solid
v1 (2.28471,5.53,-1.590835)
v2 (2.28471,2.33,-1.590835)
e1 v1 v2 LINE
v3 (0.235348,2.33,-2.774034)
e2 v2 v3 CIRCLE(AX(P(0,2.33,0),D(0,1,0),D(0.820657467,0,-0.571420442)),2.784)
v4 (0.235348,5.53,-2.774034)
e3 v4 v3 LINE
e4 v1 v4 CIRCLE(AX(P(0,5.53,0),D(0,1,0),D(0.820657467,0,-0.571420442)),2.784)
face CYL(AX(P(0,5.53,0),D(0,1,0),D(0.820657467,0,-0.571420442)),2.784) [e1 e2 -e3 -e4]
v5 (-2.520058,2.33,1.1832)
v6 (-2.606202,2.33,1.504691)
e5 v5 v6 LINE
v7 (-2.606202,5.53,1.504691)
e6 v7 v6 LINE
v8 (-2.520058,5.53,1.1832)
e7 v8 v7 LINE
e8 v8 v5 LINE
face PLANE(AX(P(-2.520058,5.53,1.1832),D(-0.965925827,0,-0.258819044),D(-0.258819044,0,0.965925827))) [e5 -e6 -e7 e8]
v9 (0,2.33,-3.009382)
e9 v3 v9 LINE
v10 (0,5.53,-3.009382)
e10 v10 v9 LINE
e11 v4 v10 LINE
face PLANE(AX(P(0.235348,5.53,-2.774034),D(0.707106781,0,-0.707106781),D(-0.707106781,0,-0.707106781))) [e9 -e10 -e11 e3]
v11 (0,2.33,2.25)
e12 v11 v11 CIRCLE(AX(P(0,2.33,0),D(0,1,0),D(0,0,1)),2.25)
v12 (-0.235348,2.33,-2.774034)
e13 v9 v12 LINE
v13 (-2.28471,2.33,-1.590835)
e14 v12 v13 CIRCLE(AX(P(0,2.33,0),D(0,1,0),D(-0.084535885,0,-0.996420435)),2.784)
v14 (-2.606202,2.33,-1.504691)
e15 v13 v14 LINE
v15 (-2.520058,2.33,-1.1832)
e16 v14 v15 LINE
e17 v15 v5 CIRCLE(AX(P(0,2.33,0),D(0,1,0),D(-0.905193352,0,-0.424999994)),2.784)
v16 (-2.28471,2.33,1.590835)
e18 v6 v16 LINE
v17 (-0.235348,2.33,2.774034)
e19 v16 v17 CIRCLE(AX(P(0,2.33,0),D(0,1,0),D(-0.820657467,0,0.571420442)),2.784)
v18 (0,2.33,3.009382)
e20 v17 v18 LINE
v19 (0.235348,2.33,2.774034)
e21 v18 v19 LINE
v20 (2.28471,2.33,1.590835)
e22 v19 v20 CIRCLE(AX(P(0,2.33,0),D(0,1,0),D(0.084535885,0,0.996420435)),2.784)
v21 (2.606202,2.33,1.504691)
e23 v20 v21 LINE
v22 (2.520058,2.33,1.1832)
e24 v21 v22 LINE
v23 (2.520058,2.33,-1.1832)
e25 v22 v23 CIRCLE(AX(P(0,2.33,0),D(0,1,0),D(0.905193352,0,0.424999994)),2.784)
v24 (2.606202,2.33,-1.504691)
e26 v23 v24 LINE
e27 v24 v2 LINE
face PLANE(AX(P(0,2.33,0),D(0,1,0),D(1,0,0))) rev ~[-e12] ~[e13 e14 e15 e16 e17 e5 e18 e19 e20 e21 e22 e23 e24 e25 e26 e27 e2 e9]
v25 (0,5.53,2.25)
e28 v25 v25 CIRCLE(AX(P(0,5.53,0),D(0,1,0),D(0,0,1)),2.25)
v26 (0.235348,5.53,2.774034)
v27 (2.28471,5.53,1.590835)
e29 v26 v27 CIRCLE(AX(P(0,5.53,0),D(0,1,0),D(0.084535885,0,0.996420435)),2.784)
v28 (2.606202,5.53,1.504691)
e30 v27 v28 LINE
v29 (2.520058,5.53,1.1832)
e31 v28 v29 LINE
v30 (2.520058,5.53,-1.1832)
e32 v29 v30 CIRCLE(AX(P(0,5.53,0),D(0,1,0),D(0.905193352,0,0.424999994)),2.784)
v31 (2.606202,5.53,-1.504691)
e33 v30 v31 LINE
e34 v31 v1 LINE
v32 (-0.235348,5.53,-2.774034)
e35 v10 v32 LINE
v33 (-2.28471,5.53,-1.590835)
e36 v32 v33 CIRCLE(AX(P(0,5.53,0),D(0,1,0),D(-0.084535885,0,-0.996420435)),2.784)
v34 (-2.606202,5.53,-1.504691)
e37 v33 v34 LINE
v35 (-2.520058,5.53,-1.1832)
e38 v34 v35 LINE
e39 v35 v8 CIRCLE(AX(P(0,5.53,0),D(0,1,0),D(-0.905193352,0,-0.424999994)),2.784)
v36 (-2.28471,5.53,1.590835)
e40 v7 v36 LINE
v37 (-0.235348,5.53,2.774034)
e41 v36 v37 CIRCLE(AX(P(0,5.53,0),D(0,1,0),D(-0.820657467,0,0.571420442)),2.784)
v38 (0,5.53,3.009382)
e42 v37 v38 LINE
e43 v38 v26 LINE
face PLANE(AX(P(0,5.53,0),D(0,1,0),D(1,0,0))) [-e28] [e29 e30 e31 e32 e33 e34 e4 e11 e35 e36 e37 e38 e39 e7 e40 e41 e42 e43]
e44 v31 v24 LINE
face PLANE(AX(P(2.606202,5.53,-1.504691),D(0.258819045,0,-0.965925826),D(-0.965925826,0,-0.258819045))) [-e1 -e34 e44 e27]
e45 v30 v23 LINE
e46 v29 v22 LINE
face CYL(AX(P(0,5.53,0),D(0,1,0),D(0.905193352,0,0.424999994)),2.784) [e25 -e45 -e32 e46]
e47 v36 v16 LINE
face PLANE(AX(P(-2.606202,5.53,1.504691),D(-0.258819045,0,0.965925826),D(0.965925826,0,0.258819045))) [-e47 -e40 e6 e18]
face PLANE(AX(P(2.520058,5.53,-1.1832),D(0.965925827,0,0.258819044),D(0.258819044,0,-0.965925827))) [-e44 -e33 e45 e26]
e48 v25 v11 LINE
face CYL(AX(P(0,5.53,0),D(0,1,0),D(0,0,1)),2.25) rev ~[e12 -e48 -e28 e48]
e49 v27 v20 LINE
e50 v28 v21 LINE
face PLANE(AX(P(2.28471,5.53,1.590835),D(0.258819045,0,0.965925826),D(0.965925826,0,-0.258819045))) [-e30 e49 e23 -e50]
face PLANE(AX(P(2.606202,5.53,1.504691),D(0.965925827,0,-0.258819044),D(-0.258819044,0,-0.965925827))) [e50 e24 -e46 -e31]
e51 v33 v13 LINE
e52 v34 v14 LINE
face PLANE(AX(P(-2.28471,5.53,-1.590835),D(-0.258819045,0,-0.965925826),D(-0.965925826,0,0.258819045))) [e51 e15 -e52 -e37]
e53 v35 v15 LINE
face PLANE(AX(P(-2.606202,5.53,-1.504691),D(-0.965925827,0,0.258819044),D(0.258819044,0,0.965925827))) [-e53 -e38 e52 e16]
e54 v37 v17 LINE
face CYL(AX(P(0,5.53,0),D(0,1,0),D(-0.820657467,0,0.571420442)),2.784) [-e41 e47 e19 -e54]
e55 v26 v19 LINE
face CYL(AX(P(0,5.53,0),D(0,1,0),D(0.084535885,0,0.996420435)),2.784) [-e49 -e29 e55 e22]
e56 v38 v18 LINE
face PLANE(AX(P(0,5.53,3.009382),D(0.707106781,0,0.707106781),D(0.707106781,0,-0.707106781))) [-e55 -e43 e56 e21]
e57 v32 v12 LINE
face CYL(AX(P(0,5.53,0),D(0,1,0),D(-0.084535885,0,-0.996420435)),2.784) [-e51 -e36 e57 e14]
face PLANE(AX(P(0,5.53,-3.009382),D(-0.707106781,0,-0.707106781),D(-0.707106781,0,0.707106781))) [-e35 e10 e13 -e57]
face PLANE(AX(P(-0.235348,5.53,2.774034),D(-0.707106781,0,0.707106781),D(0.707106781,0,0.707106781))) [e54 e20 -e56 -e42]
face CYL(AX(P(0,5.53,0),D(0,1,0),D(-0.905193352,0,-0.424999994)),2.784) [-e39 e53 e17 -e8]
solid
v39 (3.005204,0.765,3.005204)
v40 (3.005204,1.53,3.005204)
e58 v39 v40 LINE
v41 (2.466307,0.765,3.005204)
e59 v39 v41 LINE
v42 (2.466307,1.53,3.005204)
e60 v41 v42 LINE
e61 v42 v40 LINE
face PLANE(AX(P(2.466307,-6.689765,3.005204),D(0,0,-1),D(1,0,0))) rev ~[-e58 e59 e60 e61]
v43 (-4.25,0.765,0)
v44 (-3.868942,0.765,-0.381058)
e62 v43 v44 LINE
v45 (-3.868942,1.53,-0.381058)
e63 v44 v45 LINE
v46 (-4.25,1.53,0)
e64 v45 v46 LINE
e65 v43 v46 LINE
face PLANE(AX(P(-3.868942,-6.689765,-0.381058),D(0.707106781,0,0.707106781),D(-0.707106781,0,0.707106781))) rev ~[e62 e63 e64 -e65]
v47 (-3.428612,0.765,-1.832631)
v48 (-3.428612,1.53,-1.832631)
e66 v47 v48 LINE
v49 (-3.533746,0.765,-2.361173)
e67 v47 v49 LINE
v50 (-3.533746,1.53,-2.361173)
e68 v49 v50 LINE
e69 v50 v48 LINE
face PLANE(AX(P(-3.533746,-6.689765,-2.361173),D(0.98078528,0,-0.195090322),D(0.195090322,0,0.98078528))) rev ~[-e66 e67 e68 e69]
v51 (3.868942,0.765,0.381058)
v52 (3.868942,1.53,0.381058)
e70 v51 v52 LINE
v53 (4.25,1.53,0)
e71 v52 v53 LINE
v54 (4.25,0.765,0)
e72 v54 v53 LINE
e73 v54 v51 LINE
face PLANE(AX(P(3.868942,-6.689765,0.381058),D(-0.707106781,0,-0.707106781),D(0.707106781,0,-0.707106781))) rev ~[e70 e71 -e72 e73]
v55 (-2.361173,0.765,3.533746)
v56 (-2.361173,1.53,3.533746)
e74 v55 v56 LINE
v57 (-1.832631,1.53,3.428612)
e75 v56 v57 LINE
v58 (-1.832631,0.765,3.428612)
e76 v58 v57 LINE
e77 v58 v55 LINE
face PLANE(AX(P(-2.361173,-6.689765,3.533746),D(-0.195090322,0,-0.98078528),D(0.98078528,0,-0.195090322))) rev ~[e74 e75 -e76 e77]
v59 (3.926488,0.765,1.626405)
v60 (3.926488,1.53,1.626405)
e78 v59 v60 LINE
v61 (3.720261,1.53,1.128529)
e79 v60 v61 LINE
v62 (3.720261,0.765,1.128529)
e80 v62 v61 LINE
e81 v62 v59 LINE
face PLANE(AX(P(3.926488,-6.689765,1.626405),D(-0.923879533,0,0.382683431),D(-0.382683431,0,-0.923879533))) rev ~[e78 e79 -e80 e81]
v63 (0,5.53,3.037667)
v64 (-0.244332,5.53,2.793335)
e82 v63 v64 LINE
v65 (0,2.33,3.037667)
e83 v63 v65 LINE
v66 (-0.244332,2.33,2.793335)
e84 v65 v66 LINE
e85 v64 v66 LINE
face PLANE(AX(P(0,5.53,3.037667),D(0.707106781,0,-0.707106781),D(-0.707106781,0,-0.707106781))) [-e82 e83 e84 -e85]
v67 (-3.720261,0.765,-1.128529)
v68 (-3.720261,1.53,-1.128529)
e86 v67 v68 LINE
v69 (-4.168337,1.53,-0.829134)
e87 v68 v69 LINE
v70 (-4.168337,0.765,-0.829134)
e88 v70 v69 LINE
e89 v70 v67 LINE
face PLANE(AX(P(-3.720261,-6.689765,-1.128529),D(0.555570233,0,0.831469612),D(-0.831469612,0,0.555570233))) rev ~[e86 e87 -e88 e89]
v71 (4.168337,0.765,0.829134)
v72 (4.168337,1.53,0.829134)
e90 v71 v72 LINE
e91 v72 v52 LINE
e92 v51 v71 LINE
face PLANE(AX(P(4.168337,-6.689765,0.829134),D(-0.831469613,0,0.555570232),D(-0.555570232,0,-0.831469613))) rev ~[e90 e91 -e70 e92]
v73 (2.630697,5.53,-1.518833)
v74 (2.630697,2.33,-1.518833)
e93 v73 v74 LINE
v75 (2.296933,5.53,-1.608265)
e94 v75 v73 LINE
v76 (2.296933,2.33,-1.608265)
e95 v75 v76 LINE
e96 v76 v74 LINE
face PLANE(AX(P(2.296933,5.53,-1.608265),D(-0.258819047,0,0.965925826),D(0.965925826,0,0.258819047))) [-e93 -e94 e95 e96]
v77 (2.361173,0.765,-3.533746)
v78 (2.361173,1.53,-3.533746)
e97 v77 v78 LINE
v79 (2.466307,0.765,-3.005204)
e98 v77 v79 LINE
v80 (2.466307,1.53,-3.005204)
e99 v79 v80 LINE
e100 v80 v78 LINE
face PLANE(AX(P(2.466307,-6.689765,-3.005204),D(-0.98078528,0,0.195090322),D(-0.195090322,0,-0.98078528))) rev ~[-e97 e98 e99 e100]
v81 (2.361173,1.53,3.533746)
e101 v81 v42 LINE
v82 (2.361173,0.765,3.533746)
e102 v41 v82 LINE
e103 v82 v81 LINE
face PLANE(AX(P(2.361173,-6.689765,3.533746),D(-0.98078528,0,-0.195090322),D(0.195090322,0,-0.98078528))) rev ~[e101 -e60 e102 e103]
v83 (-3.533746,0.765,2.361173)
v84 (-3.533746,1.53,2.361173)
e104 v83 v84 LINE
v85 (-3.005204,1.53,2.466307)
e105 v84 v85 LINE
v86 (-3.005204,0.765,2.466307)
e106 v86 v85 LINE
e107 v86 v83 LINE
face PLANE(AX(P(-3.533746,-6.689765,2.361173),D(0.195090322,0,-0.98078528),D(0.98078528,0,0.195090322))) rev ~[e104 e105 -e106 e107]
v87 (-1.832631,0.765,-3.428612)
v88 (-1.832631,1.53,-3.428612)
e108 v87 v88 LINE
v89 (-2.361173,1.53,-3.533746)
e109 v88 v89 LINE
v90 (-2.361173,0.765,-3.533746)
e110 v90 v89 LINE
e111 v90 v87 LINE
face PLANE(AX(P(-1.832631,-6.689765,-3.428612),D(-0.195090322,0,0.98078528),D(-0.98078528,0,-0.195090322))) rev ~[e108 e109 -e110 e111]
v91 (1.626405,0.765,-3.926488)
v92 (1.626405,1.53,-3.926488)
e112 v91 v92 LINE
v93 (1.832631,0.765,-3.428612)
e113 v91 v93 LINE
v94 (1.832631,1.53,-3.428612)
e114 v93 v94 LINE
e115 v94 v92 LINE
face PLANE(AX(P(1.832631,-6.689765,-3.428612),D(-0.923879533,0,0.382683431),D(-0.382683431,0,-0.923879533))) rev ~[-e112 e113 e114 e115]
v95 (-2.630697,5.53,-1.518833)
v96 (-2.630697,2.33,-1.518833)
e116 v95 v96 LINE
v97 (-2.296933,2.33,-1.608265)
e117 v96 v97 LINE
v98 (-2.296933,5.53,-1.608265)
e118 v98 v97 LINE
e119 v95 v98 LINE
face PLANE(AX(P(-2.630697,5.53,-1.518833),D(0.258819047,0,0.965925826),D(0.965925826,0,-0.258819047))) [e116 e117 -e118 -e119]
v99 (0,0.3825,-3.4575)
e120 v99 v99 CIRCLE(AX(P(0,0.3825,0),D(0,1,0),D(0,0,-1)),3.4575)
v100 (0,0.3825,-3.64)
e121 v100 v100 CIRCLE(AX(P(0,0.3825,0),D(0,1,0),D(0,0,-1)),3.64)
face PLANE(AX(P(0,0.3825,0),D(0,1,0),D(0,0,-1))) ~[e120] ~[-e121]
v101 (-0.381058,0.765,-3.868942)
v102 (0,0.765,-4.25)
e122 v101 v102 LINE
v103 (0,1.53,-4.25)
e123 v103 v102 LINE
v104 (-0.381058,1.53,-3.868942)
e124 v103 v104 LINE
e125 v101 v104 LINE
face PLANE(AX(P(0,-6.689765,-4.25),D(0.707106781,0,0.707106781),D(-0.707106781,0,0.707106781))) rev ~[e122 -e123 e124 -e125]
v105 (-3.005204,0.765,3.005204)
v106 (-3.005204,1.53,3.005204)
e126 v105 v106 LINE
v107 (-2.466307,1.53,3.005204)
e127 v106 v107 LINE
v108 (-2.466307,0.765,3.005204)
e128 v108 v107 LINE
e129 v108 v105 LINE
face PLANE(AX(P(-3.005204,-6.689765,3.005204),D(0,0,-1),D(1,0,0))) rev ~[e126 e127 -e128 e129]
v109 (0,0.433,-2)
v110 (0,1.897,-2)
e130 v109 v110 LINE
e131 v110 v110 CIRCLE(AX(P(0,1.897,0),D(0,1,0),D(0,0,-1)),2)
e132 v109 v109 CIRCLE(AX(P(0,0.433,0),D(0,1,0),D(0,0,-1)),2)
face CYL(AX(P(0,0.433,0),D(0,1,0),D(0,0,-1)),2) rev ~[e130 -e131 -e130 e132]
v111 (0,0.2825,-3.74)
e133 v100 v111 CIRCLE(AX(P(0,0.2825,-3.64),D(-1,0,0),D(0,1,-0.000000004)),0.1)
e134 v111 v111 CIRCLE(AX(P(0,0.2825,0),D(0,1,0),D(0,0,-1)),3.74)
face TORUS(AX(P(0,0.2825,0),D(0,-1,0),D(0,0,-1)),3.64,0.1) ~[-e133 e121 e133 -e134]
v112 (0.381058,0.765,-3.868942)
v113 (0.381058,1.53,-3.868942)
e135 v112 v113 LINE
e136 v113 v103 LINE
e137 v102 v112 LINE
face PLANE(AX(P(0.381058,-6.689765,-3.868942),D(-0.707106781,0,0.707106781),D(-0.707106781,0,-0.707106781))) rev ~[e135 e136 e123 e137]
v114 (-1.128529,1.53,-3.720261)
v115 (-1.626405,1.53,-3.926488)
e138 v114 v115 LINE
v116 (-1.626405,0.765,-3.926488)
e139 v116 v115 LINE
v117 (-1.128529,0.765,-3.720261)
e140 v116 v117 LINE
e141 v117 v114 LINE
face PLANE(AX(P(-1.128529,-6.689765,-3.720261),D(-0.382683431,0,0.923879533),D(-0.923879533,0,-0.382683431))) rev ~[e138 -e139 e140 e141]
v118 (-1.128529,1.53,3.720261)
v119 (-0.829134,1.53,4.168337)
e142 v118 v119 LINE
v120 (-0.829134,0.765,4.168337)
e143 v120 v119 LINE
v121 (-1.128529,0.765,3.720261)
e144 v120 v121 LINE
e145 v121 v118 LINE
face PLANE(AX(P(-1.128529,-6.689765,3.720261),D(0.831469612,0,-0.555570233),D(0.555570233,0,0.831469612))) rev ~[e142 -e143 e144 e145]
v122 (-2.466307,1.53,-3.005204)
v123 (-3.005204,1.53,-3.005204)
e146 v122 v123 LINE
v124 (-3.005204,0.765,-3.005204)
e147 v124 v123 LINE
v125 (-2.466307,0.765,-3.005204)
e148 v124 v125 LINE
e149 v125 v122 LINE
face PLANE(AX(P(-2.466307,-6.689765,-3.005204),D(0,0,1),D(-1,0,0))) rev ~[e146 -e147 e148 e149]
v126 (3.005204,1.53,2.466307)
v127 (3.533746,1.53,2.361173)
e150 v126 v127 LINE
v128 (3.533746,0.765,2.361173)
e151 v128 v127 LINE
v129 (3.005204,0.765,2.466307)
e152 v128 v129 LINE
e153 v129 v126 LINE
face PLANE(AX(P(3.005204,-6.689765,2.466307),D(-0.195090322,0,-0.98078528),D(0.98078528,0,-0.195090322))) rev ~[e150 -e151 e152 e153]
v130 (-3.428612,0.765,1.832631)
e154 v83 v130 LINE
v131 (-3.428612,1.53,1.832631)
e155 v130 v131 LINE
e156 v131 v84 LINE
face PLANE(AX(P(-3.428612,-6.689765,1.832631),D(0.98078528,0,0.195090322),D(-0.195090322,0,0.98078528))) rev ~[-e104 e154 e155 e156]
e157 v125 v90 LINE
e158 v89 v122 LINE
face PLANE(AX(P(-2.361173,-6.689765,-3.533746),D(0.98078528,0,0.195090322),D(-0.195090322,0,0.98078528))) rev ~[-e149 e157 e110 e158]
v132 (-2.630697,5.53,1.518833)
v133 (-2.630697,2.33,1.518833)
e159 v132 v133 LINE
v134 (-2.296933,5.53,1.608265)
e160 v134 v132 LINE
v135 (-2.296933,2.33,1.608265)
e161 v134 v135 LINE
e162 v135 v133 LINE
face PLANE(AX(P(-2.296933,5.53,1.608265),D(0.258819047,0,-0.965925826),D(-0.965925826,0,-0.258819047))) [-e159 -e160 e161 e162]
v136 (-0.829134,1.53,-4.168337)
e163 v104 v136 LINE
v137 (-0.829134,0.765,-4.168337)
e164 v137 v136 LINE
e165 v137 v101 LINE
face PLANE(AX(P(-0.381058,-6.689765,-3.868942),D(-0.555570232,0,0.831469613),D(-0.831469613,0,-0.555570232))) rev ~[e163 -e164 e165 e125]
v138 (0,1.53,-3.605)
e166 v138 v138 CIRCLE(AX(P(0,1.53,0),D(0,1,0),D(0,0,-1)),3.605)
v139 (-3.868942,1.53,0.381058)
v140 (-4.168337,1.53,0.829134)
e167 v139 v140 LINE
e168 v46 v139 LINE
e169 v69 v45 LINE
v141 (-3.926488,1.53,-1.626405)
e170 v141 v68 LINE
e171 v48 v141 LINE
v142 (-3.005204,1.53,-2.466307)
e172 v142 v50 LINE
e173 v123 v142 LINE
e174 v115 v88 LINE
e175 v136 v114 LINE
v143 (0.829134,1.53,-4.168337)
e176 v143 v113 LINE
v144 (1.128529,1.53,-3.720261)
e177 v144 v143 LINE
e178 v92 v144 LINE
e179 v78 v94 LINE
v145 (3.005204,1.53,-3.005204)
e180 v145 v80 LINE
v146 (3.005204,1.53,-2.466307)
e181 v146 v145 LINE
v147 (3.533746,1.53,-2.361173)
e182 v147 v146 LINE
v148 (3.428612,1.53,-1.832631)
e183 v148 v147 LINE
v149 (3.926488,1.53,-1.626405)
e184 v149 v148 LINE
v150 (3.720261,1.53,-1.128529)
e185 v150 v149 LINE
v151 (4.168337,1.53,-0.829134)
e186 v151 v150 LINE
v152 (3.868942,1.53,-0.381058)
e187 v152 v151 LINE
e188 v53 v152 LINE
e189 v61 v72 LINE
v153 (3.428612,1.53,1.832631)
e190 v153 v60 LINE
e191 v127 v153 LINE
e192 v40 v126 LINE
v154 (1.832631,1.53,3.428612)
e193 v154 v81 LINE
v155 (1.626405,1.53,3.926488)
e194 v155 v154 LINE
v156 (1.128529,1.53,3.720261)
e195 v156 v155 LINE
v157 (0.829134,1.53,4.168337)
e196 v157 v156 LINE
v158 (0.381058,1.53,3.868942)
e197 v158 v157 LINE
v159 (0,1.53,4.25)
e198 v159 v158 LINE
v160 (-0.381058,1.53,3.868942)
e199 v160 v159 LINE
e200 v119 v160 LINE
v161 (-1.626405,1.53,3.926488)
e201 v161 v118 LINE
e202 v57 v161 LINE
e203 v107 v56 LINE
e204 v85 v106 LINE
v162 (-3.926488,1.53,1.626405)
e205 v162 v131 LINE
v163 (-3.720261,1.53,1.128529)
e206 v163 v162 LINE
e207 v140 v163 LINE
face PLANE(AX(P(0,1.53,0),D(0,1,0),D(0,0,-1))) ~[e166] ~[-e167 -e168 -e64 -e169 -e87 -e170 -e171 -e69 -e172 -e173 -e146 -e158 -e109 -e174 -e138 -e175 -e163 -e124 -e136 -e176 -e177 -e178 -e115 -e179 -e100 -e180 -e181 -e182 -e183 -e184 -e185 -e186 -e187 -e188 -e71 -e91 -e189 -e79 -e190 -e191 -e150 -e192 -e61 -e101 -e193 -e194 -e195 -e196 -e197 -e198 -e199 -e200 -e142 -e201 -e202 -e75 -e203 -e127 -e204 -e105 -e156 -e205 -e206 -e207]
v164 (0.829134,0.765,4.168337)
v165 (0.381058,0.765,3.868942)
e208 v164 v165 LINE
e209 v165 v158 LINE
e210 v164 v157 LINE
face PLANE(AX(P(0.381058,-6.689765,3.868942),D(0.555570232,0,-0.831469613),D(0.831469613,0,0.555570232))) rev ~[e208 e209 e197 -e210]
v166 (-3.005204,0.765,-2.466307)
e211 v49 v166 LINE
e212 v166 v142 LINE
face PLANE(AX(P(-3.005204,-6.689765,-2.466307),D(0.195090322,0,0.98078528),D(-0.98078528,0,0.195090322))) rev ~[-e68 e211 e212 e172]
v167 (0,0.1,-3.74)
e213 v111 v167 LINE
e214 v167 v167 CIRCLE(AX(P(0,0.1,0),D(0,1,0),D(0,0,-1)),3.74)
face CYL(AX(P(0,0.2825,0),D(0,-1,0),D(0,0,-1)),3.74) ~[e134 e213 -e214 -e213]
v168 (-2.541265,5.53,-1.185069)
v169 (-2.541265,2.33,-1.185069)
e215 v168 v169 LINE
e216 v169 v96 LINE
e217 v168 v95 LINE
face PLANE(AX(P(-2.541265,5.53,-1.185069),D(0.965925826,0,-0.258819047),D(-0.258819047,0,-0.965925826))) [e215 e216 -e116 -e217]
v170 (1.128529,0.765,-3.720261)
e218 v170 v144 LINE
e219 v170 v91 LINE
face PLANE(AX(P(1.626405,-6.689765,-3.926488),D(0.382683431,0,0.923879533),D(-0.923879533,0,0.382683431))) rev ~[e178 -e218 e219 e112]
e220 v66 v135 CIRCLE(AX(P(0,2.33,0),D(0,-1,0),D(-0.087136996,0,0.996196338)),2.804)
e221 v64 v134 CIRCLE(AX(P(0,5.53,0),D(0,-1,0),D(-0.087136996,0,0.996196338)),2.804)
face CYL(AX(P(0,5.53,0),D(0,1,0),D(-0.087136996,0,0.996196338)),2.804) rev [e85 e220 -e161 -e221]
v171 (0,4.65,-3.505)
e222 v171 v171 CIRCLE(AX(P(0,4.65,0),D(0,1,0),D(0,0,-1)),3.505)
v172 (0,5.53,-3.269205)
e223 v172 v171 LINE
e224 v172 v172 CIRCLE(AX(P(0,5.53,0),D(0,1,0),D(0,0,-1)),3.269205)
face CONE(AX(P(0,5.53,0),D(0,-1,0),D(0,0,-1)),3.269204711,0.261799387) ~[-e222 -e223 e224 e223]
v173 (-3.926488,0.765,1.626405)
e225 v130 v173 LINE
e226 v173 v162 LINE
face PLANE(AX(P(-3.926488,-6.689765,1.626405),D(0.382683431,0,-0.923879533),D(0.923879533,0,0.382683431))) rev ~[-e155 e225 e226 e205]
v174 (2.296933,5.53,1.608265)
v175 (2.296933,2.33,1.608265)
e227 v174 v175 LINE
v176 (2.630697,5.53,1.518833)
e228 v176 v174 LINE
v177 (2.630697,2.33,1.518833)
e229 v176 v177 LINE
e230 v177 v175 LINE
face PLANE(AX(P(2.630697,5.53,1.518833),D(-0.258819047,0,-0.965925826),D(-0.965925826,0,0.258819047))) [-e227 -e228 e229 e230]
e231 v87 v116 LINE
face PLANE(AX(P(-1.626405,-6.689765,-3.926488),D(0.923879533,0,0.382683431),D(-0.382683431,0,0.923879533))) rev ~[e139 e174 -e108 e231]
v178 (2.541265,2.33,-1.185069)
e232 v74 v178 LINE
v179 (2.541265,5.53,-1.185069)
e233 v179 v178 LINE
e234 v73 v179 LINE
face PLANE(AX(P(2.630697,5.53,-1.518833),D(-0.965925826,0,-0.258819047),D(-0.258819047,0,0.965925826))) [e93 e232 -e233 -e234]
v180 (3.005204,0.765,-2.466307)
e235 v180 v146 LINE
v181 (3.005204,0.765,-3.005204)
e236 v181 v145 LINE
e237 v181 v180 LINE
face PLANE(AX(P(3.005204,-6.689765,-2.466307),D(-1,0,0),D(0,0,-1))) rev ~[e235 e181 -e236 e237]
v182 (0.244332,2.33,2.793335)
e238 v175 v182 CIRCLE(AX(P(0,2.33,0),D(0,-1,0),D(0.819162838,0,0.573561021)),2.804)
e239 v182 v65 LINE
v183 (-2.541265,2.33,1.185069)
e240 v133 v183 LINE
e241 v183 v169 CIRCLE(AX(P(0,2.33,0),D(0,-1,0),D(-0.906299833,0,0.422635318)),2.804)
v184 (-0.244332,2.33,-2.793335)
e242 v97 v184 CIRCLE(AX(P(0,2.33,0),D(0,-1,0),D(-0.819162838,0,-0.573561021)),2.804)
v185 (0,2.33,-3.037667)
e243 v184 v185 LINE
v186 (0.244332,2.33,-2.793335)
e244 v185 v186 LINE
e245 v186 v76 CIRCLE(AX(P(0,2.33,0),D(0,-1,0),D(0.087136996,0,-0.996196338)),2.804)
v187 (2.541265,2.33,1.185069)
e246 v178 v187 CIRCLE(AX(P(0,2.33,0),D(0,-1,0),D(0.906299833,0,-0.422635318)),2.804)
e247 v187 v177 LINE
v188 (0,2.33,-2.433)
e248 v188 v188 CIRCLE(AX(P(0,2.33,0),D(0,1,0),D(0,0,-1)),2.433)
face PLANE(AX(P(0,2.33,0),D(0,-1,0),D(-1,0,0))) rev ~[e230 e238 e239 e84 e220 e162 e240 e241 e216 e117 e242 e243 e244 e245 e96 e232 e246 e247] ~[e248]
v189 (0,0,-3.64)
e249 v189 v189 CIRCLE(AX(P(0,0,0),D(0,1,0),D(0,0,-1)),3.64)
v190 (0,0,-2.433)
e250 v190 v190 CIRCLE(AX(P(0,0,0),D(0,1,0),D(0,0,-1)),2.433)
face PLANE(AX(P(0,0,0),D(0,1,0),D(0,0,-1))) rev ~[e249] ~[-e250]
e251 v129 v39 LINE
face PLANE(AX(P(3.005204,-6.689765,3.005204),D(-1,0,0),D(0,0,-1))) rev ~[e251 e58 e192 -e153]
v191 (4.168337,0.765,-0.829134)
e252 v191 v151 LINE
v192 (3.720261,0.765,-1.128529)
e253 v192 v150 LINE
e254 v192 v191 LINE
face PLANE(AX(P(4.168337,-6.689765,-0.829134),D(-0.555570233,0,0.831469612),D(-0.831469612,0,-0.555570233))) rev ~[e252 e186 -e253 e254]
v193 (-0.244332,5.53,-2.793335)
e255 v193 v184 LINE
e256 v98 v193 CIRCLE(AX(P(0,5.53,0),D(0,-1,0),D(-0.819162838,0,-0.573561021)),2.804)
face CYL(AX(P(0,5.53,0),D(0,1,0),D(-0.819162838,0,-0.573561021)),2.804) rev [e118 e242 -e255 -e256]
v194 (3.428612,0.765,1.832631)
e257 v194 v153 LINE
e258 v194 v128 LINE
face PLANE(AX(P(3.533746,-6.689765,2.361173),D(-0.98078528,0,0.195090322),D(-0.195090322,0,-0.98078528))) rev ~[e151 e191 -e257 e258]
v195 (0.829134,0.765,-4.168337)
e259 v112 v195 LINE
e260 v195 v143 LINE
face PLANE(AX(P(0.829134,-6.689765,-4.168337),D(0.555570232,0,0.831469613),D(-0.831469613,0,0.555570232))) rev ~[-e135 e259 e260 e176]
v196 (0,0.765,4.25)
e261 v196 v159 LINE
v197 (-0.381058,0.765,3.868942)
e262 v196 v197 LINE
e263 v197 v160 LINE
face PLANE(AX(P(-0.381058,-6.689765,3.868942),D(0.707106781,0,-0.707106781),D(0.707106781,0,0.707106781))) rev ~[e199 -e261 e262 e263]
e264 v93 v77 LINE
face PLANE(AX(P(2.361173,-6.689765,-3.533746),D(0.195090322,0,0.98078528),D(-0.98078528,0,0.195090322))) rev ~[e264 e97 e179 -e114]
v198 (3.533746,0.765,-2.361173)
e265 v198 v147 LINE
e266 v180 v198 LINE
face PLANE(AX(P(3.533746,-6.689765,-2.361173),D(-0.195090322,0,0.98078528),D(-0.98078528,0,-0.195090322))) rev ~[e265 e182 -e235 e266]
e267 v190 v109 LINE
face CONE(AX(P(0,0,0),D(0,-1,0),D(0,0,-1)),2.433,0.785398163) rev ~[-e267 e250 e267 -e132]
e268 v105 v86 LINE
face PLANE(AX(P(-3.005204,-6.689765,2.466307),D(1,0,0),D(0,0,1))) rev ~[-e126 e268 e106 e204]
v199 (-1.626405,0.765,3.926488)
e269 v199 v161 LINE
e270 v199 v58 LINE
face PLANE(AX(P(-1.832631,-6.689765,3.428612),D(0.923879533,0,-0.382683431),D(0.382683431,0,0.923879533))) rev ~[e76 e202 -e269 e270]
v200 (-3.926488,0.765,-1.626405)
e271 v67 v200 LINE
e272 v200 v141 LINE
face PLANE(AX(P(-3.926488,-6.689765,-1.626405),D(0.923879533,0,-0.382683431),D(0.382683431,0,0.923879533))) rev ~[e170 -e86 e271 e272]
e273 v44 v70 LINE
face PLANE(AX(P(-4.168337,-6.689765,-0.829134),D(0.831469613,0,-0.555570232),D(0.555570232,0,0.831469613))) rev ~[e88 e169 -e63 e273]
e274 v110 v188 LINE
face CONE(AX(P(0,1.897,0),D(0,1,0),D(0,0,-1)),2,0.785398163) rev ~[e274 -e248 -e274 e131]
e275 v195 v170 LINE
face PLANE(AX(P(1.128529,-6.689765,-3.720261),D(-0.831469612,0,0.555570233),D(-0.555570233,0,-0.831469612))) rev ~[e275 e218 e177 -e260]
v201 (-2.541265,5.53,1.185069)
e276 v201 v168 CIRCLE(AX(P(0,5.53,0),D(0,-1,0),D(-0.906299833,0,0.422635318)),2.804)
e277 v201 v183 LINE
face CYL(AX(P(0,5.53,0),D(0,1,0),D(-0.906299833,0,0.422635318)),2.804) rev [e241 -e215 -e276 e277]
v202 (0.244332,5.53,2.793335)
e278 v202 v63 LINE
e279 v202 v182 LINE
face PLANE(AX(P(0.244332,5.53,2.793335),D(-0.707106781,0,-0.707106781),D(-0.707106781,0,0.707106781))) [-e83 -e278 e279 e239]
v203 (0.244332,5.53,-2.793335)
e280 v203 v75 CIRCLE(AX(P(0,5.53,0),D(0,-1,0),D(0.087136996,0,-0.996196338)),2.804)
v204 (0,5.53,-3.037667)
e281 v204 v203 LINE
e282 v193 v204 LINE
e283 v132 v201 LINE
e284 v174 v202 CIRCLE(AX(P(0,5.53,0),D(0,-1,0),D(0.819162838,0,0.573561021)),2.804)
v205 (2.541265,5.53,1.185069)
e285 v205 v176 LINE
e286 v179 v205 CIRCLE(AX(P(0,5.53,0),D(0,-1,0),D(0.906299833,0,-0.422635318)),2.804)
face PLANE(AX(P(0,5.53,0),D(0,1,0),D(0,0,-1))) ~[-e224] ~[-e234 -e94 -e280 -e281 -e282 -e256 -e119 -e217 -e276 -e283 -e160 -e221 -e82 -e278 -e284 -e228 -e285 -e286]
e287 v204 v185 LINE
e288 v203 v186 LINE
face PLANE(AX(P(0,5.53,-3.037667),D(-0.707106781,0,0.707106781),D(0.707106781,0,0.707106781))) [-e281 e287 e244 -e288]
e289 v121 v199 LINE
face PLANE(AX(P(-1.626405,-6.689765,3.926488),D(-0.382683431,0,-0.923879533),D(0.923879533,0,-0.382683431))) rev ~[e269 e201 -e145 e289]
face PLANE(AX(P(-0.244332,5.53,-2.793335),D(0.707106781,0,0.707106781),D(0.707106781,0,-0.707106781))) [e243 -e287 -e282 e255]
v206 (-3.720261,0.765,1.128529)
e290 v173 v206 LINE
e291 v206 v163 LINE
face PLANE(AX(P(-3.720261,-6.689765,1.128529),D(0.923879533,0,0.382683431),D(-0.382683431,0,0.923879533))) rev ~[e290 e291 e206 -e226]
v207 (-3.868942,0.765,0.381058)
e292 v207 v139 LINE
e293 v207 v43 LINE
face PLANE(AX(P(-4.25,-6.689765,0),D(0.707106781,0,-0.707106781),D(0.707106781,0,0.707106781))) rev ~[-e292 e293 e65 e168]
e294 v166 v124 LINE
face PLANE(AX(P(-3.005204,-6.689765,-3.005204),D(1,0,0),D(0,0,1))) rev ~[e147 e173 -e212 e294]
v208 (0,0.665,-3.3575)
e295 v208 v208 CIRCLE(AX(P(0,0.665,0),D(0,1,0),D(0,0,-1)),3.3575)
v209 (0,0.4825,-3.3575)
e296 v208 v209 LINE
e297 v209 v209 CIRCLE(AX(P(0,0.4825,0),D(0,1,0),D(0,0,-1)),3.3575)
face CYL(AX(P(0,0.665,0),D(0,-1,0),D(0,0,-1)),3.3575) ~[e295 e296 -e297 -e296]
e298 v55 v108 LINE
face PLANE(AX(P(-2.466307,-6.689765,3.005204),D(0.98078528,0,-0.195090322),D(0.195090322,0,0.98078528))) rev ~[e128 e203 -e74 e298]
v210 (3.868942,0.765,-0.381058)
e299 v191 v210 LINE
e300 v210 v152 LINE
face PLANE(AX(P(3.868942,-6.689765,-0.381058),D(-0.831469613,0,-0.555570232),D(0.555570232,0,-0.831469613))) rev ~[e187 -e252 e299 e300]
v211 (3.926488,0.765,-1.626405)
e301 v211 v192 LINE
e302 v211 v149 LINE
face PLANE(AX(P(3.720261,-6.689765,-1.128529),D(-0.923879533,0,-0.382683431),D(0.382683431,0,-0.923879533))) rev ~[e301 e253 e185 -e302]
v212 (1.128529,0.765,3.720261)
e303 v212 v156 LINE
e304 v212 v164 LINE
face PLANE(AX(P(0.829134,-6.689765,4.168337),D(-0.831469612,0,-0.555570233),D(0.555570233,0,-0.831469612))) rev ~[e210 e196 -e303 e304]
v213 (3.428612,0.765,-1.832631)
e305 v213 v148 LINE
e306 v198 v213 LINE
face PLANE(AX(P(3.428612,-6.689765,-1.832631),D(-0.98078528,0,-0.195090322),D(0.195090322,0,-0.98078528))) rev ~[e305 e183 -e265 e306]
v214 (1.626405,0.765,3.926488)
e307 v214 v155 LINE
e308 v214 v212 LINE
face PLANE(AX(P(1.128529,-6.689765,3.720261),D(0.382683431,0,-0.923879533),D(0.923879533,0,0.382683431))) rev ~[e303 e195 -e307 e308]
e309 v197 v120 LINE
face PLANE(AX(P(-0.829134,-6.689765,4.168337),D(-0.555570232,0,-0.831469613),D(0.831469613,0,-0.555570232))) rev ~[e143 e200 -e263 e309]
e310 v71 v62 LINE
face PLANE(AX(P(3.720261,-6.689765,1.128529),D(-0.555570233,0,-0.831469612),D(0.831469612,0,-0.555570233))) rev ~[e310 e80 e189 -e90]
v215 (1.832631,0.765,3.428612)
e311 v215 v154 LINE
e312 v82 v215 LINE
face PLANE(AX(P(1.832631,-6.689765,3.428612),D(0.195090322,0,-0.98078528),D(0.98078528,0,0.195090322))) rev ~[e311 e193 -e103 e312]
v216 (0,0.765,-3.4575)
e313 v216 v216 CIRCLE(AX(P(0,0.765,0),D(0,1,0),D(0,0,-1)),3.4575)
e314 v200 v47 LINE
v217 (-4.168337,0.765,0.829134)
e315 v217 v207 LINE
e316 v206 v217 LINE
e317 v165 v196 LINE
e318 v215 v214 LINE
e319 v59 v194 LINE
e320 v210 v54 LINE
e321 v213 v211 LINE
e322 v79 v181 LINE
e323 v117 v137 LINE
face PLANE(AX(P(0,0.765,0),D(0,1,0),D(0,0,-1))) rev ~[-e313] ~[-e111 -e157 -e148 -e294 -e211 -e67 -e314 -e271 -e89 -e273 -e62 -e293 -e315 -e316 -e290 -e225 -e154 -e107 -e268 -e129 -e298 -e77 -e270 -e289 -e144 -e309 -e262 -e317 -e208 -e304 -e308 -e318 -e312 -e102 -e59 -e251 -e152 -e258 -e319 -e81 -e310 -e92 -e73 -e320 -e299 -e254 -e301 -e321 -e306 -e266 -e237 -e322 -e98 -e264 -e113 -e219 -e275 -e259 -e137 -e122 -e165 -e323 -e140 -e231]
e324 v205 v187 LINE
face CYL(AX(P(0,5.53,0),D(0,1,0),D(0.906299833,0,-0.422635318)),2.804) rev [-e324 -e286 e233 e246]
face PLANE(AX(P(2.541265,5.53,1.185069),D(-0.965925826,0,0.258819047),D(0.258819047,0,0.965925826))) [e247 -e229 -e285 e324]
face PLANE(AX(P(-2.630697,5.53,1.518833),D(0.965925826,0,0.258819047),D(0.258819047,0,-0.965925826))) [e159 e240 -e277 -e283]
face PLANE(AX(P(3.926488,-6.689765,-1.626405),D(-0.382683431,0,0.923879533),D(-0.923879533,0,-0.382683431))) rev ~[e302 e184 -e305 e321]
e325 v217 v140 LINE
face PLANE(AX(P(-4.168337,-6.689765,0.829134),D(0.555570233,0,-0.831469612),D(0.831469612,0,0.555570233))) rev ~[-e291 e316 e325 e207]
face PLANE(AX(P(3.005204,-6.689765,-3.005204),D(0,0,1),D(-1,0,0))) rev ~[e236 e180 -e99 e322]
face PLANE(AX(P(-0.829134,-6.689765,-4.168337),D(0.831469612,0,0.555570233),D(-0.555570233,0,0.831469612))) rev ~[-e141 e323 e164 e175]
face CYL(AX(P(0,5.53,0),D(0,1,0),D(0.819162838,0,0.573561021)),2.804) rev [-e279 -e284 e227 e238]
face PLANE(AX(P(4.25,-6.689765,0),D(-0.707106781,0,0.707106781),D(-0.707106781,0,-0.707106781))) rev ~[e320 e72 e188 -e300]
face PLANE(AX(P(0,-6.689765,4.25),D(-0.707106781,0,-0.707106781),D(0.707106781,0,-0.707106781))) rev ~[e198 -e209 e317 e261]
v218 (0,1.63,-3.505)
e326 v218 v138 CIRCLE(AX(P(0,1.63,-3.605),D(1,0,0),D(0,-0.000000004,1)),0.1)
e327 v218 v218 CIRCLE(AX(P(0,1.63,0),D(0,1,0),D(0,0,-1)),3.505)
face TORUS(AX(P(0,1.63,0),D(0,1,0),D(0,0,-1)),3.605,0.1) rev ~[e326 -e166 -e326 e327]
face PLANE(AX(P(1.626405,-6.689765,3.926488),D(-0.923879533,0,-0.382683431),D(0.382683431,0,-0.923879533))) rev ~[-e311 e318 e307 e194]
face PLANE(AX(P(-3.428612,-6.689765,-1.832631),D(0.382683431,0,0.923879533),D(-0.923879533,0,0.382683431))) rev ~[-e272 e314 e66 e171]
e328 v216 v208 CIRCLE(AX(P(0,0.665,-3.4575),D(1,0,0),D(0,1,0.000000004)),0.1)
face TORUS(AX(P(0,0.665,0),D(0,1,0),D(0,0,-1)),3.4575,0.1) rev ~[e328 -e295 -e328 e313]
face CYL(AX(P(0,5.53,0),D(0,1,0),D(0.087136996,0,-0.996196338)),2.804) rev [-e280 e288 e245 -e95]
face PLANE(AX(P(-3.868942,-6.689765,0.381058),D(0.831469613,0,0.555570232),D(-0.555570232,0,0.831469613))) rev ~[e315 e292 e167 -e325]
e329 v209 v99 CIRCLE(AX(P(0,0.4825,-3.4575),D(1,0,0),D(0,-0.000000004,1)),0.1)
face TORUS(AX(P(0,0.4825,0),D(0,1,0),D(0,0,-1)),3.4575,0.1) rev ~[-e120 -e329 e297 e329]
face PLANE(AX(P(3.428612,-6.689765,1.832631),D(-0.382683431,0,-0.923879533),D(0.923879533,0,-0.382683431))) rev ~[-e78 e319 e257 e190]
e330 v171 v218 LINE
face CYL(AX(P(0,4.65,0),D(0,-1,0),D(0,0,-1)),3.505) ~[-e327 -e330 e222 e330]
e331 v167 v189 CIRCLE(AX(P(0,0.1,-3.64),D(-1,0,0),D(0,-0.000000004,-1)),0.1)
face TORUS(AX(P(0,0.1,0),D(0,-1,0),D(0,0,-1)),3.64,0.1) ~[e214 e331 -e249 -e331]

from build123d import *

# Parameters (mm, degrees)
CUT_EXTRUDE3_DEPTH      = 8.219764539
CUT_EXTRUDE3_DEPTH_BACK = 8.219764539
SKETCH5_OUTSIDE_W       = 13.146
SKETCH5_OUTSIDE_H       = 13.146
INSERT_HOLE_CUT_DEPTH   = 3.2
SKETCH4_R               = 2.25
INSERT_EXTRUDE_DEPTH    = 3.2


with BuildPart() as part:
    # Sketch2 → Body Revolve (revolve)
    with BuildSketch(Plane(origin=(0, 0, 0), x_dir=(0, 0, -1), z_dir=(1, 0, 0))):
        with BuildLine():
            Line((2.804, 5.53), (3.269204711, 5.53))
            Line((3.269204711, 5.53), (3.505, 4.65))
            Line((3.505, 4.65), (3.505, 1.63))
            ThreePointArc((3.505, 1.63), (3.534289322, 1.559289322), (3.605, 1.53))
            Line((3.605, 1.53), (4.25, 1.53))
            Line((4.25, 1.53), (4.25, 0.765))
            Line((4.25, 0.765), (3.4575, 0.765))
            ThreePointArc((3.4575, 0.765), (3.386789322, 0.735710678), (3.3575, 0.665))
            Line((3.3575, 0.665), (3.3575, 0.4825))
            ThreePointArc((3.3575, 0.4825), (3.386789322, 0.411789322), (3.4575, 0.3825))
            Line((3.4575, 0.3825), (3.64, 0.3825))
            ThreePointArc((3.64, 0.3825), (3.710710678, 0.353210678), (3.74, 0.2825))
            Line((3.74, 0.2825), (3.74, 0.1))
            ThreePointArc((3.74, 0.1), (3.710710678, 0.029289322), (3.64, 0))
            Line((3.64, 0), (2.433, 0))
            Line((2.433, 0), (2, 0.433))
            Line((2, 0.433), (2, 1.897))
            Line((2, 1.897), (2.433, 2.33))
            Line((2.433, 2.33), (2.804, 2.33))
            Line((2.804, 2.33), (2.804, 5.53))
        make_face()
    revolve(axis=Axis((0, 0, 0), (0, 1, 0)))

    # Sketch5 outside → Cut-Extrude3 (cut, two sides: drawn at the far end of the back side and taken through both)
    with BuildSketch(Plane(origin=(0, 1.53, 0), x_dir=(1, 0, 0), z_dir=(0, 1, 0)).offset(-CUT_EXTRUDE3_DEPTH_BACK)):
        Rectangle(SKETCH5_OUTSIDE_W, SKETCH5_OUTSIDE_H)
        Polygon((-4.25, 0), (-3.868942431, -0.381057569), (-4.168337442, -0.829133869), (-3.720261143, -1.12852888), (-3.926488013, -1.626404588), (-3.428612305, -1.832631458), (-3.533745852, -2.36117349), (-3.00520382, -2.466307037), (-3.00520382, -3.00520382), (-2.466307037, -3.00520382), (-2.36117349, -3.533745852), (-1.832631458, -3.428612305), (-1.626404588, -3.926488013), (-1.12852888, -3.720261143), (-0.829133869, -4.168337442), (-0.381057569, -3.868942431), (0, -4.25), (0.381057569, -3.868942431), (0.829133869, -4.168337442), (1.12852888, -3.720261143), (1.626404588, -3.926488013), (1.832631458, -3.428612305), (2.36117349, -3.533745852), (2.466307037, -3.00520382), (3.00520382, -3.00520382), (3.00520382, -2.466307037), (3.533745852, -2.36117349), (3.428612305, -1.832631458), (3.926488013, -1.626404588), (3.720261143, -1.12852888), (4.168337442, -0.829133869), (3.868942431, -0.381057569), (4.25, 0), (3.868942431, 0.381057569), (4.168337442, 0.829133869), (3.720261143, 1.12852888), (3.926488013, 1.626404588), (3.428612305, 1.832631458), (3.533745852, 2.36117349), (3.00520382, 2.466307037), (3.00520382, 3.00520382), (2.466307037, 3.00520382), (2.36117349, 3.533745852), (1.832631458, 3.428612305), (1.626404588, 3.926488013), (1.12852888, 3.720261143), (0.829133869, 4.168337442), (0.381057569, 3.868942431), (0, 4.25), (-0.381057569, 3.868942431), (-0.829133869, 4.168337442), (-1.12852888, 3.720261143), (-1.626404588, 3.926488013), (-1.832631458, 3.428612305), (-2.36117349, 3.533745852), (-2.466307037, 3.00520382), (-3.00520382, 3.00520382), (-3.00520382, 2.466307037), (-3.533745852, 2.36117349), (-3.428612305, 1.832631458), (-3.926488013, 1.626404588), (-3.720261143, 1.12852888), (-4.168337442, 0.829133869), (-3.868942431, 0.381057569), align=None, mode=Mode.SUBTRACT)
    extrude(amount=CUT_EXTRUDE3_DEPTH + CUT_EXTRUDE3_DEPTH_BACK, mode=Mode.SUBTRACT)

    # Sketch3 → Insert Hole Cut (cut)
    with BuildSketch(Plane(origin=(0, 5.53, 0), x_dir=(1, 0, 0), z_dir=(0, 1, 0))):
        with BuildLine():
            Line((-0.244332135, 2.793334532), (0, 3.037666667))
            Line((0, 3.037666667), (0.244332135, 2.793334532))
            ThreePointArc((0.244332135, 2.793334532), (1.402, 2.428335232), (2.296932599, 1.608265102))
            Line((2.296932599, 1.608265102), (2.630696502, 1.518833333))
            Line((2.630696502, 1.518833333), (2.541264733, 1.18506943))
            ThreePointArc((2.541264733, 1.18506943), (2.804, 0), (2.541264733, -1.18506943))
            Line((2.541264733, -1.18506943), (2.630696502, -1.518833333))
            Line((2.630696502, -1.518833333), (2.296932599, -1.608265102))
            ThreePointArc((2.296932599, -1.608265102), (1.402, -2.428335232), (0.244332135, -2.793334532))
            Line((0.244332135, -2.793334532), (0, -3.037666667))
            Line((0, -3.037666667), (-0.244332135, -2.793334532))
            ThreePointArc((-0.244332135, -2.793334532), (-1.402, -2.428335232), (-2.296932599, -1.608265102))
            Line((-2.296932599, -1.608265102), (-2.630696502, -1.518833333))
            Line((-2.630696502, -1.518833333), (-2.541264733, -1.18506943))
            ThreePointArc((-2.541264733, -1.18506943), (-2.804, 0), (-2.541264733, 1.18506943))
            Line((-2.541264733, 1.18506943), (-2.630696502, 1.518833333))
            Line((-2.630696502, 1.518833333), (-2.296932599, 1.608265102))
            ThreePointArc((-2.296932599, 1.608265102), (-1.402, 2.428335232), (-0.244332135, 2.793334532))
        make_face()
    extrude(amount=-INSERT_HOLE_CUT_DEPTH, mode=Mode.SUBTRACT)


with BuildPart() as body_2:
    # Sketch4 → Insert Extrude (new body)
    with BuildSketch(Plane(origin=(0, 5.53, 0), x_dir=(1, 0, 0), z_dir=(0, 1, 0))):
        with BuildLine():
            Line((2.606201604, -1.504691198), (2.520058293, -1.183199983))
            ThreePointArc((2.520058293, -1.183199983), (2.784, 0), (2.520058293, 1.183199983))
            Line((2.520058293, 1.183199983), (2.606201604, 1.504691198))
            Line((2.606201604, 1.504691198), (2.28471039, 1.590834509))
            ThreePointArc((2.28471039, 1.590834509), (1.392, 2.411014724), (0.235347903, 2.774034492))
            Line((0.235347903, 2.774034492), (0, 3.009382395))
            Line((0, 3.009382395), (-0.235347903, 2.774034492))
            ThreePointArc((-0.235347903, 2.774034492), (-1.392, 2.411014724), (-2.28471039, 1.590834509))
            Line((-2.28471039, 1.590834509), (-2.606201604, 1.504691198))
            Line((-2.606201604, 1.504691198), (-2.520058293, 1.183199983))
            ThreePointArc((-2.520058293, 1.183199983), (-2.784, 0), (-2.520058293, -1.183199983))
            Line((-2.520058293, -1.183199983), (-2.606201604, -1.504691198))
            Line((-2.606201604, -1.504691198), (-2.28471039, -1.590834509))
            ThreePointArc((-2.28471039, -1.590834509), (-1.392, -2.411014724), (-0.235347903, -2.774034492))
            Line((-0.235347903, -2.774034492), (0, -3.009382395))
            Line((0, -3.009382395), (0.235347903, -2.774034492))
            ThreePointArc((0.235347903, -2.774034492), (1.392, -2.411014724), (2.28471039, -1.590834509))
            Line((2.28471039, -1.590834509), (2.606201604, -1.504691198))
        make_face()
        with Locations(Location((0, 0, 0), (0, 0, 270))):
            Circle(SKETCH4_R, mode=Mode.SUBTRACT)
    extrude(amount=-INSERT_EXTRUDE_DEPTH)


solid = Compound([part.part, body_2.part])
